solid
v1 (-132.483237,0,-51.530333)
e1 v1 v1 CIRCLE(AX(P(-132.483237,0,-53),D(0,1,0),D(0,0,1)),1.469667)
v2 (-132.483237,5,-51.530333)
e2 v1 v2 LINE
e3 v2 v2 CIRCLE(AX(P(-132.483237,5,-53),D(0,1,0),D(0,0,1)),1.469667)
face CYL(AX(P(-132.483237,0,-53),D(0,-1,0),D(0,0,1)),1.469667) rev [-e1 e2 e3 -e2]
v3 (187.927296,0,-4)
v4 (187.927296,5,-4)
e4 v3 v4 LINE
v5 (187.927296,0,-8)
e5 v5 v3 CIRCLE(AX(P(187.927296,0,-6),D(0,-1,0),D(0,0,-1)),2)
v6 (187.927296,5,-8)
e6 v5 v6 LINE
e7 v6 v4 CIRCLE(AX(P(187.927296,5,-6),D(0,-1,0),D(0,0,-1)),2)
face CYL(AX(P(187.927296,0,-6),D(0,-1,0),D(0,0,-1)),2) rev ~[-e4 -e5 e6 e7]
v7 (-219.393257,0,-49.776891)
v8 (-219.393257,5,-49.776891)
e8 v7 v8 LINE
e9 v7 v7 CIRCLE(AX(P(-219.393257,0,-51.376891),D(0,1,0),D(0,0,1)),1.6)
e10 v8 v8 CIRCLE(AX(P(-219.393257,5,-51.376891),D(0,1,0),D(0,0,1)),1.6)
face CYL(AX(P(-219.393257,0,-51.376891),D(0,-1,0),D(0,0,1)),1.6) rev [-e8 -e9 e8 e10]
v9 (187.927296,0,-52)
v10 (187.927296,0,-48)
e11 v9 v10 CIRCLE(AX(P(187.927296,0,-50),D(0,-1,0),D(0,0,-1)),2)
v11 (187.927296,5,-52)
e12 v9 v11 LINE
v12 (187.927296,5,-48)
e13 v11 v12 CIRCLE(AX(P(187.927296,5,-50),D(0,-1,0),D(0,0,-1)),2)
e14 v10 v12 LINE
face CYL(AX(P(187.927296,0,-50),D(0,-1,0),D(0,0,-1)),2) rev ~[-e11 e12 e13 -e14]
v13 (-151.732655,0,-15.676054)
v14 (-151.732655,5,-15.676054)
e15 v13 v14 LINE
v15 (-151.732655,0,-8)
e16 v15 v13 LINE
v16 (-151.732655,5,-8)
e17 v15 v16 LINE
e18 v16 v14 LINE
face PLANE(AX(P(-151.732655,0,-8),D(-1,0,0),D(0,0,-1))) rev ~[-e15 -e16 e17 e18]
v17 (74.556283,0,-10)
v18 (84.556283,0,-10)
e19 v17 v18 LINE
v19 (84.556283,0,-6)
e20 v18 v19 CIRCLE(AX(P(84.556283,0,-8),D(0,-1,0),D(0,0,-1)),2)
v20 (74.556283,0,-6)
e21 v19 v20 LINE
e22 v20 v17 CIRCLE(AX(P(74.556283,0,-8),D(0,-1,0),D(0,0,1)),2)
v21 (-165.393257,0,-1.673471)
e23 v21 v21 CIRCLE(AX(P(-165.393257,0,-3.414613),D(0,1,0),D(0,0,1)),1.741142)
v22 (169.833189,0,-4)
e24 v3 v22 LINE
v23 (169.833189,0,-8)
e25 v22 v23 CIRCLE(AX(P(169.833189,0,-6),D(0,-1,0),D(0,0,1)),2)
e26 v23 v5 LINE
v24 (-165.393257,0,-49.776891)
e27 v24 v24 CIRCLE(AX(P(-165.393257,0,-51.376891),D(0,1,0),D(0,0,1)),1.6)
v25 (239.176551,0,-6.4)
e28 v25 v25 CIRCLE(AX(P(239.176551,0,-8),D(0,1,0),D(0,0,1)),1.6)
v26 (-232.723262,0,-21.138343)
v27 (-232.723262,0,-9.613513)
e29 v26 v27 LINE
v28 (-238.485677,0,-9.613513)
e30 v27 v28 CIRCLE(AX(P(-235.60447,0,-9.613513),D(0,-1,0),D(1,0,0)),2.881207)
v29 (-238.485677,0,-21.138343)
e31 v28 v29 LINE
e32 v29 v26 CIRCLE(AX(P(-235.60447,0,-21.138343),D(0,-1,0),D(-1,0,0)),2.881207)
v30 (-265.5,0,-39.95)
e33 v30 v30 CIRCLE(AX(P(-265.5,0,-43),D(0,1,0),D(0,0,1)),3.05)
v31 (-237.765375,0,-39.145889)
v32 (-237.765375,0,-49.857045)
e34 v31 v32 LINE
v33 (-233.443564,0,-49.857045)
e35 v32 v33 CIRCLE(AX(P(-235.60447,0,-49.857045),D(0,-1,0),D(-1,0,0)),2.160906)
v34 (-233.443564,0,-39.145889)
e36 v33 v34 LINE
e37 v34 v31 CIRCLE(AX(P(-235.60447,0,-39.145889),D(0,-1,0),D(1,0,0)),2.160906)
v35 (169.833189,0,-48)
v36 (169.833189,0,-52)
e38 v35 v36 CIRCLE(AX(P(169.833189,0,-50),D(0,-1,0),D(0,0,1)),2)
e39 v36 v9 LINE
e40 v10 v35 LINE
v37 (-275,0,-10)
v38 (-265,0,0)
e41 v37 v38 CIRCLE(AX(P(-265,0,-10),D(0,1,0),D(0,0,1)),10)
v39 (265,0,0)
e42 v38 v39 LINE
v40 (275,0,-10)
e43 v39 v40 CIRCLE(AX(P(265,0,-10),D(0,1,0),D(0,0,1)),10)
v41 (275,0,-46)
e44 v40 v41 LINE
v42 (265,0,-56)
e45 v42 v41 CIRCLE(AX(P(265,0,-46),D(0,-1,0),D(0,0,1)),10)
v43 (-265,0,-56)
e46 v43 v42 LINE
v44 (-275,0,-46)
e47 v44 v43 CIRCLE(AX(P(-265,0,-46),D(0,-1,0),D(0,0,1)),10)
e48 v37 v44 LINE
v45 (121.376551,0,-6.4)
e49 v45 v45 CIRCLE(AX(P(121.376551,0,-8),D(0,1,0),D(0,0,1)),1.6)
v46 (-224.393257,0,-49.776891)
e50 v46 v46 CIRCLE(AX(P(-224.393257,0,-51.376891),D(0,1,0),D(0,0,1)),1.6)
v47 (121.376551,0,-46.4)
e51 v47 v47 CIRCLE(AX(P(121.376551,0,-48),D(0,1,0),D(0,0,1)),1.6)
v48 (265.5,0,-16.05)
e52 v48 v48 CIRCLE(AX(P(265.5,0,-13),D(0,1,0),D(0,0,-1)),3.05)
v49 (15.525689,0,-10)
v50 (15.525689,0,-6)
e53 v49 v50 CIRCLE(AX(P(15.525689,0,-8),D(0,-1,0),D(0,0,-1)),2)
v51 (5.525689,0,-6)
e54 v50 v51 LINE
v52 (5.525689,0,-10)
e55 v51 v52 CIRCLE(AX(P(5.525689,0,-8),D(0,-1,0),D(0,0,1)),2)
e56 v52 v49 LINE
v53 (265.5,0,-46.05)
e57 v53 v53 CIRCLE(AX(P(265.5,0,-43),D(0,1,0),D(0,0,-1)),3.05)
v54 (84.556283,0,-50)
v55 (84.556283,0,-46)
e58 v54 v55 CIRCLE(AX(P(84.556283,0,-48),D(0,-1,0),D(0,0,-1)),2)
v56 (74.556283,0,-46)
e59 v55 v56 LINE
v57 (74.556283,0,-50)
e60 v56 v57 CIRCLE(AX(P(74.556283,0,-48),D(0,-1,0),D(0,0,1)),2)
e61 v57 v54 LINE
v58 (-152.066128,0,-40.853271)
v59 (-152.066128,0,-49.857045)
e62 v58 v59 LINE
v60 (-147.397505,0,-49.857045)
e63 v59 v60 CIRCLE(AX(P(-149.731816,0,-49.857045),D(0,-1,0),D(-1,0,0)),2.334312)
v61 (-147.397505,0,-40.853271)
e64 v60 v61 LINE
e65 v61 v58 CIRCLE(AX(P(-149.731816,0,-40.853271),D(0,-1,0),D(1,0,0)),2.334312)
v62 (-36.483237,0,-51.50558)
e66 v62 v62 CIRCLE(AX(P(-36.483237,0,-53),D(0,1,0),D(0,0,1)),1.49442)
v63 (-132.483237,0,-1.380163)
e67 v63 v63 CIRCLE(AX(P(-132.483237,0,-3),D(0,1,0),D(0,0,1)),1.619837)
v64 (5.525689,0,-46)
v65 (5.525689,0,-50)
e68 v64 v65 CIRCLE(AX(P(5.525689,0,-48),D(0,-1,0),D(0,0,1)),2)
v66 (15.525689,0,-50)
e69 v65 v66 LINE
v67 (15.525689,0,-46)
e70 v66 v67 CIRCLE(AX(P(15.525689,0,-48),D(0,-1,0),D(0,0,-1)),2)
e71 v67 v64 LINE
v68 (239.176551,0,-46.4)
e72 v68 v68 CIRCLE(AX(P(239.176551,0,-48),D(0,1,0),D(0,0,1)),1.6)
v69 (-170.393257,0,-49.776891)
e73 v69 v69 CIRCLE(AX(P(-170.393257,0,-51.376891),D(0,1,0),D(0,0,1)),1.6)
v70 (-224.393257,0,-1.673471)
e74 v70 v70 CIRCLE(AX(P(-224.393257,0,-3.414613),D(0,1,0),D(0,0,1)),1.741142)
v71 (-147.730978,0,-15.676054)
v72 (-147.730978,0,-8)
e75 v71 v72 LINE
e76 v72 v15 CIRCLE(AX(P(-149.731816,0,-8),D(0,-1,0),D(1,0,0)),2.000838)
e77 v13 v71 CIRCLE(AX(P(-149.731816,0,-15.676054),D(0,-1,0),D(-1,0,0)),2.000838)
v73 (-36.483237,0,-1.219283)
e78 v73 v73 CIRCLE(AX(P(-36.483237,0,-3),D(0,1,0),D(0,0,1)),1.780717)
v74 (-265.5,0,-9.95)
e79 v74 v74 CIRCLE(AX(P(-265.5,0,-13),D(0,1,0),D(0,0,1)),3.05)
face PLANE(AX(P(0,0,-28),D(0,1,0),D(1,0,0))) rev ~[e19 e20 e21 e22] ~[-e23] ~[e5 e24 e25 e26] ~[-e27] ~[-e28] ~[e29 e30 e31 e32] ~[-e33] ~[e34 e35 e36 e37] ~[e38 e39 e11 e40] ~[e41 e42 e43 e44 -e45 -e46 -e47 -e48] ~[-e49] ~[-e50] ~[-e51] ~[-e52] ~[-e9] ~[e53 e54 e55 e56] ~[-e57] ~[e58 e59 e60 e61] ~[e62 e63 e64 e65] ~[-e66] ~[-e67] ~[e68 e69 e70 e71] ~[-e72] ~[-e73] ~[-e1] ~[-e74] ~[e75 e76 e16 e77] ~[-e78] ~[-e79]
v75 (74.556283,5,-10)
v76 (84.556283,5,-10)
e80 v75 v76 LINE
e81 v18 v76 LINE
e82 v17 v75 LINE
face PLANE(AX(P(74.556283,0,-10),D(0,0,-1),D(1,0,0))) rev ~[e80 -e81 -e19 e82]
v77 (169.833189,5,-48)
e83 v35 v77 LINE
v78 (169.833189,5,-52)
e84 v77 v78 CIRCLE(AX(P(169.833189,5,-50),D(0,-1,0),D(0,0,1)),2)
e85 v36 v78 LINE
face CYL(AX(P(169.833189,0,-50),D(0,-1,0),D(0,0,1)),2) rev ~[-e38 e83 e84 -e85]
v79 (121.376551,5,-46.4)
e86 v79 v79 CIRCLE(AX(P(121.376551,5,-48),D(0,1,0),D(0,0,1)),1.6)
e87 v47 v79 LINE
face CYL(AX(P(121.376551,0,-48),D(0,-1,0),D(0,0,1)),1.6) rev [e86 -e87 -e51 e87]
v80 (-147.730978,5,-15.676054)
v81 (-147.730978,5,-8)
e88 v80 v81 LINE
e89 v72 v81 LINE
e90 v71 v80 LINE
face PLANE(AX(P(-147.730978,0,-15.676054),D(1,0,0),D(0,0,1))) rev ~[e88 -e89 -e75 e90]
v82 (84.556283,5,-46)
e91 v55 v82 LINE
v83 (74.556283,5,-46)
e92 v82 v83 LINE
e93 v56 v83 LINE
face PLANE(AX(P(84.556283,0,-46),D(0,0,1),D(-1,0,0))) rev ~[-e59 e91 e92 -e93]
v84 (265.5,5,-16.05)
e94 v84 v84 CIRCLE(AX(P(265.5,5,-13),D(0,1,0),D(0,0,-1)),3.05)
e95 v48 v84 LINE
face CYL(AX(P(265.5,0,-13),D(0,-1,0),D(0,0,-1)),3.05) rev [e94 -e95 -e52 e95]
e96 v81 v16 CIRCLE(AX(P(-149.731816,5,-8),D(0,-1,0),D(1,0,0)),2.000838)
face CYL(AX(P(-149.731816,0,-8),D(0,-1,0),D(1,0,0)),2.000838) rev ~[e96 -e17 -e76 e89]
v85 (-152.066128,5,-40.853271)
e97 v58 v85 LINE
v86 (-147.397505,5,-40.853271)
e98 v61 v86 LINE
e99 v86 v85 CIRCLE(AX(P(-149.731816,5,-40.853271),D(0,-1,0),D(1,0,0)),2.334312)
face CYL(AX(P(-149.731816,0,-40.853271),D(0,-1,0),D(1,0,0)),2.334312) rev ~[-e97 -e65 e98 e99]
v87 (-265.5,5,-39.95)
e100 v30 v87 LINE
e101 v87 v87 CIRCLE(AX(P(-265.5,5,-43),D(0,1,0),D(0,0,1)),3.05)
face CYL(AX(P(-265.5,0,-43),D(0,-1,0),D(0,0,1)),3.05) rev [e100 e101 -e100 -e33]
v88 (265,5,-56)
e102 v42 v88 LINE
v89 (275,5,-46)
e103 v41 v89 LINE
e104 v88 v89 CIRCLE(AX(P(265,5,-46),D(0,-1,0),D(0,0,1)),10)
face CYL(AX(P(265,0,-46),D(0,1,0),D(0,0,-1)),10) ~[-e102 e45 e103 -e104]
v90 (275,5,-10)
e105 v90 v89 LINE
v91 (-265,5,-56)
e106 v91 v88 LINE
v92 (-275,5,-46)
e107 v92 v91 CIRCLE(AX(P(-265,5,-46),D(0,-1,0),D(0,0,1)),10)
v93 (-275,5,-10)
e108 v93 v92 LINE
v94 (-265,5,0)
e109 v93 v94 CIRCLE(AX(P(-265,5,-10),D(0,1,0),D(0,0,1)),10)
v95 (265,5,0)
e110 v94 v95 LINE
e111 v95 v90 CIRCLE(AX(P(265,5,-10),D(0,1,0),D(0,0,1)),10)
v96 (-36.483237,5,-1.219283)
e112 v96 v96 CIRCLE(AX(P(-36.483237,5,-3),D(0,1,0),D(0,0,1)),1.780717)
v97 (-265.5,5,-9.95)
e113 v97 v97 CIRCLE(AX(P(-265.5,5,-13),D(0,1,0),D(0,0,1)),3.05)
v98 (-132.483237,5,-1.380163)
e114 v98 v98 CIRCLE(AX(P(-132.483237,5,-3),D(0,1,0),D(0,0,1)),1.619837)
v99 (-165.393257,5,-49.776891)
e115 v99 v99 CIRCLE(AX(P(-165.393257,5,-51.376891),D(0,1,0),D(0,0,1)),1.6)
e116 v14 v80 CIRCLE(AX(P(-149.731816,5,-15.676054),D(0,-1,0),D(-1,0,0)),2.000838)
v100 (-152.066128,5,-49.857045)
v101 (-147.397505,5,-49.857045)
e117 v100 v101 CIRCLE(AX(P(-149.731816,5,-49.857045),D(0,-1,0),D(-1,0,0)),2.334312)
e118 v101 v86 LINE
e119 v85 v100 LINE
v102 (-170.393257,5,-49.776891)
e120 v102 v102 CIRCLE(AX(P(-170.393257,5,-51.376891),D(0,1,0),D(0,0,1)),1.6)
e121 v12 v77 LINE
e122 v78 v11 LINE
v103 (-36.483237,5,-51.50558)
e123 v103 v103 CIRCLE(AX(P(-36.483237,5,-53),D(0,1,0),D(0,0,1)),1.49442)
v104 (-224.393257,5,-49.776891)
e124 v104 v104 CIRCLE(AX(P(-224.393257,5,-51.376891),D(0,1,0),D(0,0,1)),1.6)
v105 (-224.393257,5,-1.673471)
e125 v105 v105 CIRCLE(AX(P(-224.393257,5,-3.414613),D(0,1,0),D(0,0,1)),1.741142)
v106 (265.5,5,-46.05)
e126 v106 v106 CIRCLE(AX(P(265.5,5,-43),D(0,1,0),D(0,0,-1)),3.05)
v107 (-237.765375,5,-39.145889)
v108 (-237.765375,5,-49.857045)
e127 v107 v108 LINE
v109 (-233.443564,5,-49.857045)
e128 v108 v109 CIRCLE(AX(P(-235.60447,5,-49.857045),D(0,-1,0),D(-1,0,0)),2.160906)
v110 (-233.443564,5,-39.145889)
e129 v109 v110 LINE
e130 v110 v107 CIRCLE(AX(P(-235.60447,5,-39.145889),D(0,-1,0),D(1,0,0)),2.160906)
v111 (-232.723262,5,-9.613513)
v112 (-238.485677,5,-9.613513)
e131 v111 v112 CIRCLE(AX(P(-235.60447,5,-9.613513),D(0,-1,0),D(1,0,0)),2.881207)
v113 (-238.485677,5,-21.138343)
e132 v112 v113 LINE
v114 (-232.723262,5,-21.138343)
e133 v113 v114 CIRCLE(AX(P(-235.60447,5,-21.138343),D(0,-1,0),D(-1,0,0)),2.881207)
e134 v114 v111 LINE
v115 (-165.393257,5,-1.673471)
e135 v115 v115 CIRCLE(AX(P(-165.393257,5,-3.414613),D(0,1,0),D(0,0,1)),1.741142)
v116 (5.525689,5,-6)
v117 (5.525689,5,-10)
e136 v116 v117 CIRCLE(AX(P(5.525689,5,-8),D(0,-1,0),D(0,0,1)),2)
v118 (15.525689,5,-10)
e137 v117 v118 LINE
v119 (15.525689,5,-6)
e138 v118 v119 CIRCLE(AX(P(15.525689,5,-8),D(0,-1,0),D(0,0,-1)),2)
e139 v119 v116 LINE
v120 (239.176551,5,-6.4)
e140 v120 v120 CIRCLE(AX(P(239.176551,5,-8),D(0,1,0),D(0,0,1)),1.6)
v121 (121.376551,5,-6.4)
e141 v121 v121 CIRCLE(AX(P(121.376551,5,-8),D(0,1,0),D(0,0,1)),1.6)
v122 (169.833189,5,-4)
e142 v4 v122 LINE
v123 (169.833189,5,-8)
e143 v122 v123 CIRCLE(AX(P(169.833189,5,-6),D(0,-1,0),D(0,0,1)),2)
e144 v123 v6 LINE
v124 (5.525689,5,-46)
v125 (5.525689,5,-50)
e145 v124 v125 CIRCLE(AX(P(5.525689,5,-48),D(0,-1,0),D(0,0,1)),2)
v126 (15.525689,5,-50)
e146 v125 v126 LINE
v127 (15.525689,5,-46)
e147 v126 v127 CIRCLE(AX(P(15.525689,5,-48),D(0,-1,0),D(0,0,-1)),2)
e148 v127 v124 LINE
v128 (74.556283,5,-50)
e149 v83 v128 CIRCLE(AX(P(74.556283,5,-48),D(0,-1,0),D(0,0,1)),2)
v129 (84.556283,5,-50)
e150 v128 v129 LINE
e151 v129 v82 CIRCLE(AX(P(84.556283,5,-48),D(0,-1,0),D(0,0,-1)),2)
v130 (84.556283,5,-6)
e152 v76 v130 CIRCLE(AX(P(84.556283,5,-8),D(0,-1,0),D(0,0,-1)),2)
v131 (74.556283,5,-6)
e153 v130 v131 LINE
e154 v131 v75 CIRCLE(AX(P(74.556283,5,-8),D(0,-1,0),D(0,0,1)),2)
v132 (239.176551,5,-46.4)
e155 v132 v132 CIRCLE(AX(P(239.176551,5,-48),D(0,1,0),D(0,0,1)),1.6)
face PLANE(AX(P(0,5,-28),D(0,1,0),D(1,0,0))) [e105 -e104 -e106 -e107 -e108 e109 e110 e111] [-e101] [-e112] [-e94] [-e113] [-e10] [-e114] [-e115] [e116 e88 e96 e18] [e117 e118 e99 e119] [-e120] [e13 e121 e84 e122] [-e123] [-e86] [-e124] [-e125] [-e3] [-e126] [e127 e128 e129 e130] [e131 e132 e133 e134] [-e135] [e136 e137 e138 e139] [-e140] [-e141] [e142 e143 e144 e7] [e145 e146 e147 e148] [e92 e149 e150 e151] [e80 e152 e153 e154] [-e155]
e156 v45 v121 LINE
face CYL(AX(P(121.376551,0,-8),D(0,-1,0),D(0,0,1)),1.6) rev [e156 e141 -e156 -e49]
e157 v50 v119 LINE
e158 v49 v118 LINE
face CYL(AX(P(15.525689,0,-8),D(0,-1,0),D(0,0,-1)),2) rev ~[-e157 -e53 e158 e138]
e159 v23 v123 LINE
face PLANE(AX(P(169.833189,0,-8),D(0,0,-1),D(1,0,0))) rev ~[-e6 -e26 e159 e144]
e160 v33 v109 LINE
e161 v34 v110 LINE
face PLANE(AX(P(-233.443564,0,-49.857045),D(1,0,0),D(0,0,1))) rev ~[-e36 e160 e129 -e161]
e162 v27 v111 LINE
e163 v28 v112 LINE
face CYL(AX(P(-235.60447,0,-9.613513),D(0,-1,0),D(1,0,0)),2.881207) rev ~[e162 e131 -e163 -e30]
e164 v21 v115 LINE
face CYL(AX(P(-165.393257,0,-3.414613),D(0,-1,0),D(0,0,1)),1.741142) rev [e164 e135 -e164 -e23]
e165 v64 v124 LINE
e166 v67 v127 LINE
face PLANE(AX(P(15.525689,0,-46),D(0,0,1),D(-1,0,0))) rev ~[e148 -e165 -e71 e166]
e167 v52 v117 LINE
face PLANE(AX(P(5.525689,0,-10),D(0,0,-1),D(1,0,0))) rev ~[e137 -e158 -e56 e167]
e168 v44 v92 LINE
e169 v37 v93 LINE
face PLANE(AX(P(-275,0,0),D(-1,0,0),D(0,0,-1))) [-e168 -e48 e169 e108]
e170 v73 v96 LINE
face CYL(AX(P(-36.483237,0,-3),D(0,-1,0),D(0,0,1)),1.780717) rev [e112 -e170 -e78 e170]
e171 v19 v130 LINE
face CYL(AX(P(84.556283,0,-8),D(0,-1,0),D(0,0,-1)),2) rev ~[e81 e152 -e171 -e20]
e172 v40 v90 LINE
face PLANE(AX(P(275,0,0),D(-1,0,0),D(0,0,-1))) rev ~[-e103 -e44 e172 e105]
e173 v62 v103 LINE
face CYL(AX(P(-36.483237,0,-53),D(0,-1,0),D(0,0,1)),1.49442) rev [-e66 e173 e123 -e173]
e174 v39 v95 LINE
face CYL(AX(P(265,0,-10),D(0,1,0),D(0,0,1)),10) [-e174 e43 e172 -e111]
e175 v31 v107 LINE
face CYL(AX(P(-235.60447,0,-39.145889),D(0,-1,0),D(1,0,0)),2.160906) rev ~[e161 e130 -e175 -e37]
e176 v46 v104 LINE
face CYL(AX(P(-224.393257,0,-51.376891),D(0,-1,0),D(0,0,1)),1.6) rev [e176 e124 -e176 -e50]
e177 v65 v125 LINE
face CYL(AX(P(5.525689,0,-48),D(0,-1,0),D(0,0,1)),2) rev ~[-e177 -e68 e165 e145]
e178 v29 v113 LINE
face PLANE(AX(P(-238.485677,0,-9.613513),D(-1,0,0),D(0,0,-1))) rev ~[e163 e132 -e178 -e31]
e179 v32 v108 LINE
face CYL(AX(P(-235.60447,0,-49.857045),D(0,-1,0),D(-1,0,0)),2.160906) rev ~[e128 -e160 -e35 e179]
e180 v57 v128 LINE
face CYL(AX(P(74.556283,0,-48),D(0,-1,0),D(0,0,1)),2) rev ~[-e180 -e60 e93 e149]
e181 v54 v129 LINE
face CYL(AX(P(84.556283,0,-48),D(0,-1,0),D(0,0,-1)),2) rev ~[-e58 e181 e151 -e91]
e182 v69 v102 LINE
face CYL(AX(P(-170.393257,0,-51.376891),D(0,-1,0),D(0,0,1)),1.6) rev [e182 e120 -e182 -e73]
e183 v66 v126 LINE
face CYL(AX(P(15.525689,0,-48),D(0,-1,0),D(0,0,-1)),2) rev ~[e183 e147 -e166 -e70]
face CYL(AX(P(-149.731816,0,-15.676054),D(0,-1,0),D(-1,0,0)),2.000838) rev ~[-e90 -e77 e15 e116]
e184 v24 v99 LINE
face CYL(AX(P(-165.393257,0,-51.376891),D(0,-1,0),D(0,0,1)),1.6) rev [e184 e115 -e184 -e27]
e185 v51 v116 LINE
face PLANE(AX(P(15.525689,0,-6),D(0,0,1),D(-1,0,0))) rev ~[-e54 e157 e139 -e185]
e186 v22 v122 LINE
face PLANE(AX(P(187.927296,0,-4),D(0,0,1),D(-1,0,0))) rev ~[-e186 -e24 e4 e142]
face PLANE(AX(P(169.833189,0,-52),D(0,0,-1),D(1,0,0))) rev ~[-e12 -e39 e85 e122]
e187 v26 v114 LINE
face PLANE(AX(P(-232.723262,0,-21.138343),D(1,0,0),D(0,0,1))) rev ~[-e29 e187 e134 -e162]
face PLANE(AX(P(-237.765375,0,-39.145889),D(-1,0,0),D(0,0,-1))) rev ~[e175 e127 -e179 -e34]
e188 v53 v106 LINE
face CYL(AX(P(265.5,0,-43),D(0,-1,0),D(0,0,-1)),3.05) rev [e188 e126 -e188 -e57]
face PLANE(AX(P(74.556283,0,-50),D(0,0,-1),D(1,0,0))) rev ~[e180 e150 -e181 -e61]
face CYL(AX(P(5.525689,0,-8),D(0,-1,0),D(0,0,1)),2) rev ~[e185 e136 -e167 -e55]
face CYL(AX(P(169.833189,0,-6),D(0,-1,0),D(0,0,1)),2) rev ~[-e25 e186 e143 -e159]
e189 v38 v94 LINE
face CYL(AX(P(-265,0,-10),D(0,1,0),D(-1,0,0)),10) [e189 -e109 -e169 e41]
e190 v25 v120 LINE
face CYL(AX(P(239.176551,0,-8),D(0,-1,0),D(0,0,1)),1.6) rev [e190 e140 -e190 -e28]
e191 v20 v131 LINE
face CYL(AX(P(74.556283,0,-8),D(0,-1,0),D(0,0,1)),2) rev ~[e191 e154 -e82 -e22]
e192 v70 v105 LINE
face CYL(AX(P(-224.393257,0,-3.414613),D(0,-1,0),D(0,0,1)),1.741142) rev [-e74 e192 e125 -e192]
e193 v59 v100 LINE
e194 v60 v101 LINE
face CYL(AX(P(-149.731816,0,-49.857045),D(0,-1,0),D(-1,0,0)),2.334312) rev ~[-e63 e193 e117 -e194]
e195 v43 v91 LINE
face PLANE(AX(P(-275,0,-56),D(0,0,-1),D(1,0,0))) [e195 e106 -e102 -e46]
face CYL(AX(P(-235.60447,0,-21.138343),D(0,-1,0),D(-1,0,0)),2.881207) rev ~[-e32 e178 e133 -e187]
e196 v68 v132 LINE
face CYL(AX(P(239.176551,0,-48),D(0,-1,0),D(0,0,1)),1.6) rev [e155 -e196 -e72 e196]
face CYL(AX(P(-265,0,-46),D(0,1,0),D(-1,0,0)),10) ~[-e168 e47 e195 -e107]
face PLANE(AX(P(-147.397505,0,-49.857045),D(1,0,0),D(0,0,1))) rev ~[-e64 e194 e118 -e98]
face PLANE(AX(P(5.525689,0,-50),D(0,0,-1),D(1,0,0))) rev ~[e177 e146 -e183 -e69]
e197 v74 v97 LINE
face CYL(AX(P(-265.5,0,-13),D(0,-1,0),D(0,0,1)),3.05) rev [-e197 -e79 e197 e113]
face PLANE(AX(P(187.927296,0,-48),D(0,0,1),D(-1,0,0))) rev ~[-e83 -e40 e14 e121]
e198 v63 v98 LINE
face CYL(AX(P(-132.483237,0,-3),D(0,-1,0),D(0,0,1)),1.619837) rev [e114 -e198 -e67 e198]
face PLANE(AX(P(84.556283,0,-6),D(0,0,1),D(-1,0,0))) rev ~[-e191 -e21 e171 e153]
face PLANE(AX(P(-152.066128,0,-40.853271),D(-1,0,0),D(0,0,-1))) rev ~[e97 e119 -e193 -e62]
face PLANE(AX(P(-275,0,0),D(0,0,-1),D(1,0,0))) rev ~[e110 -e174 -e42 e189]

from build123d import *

# Parameters (mm, degrees)
SKETCH_1_W      = 550
SKETCH_1_H      = 56
SKETCH_1_R      = 3.05
SKETCH_1_R_2    = 1.6
SKETCH_1_R_3    = 1.741142055
SKETCH_1_R_4    = 1.469666532
SKETCH_1_R_5    = 1.619836661
SKETCH_1_R_6    = 1.494419625
SKETCH_1_R_7    = 1.78071741
EXTRUDE_1_DEPTH = 5
FILLET_1_R      = 10


with BuildPart() as part:
    # 草图1 → 凸台-拉伸1 (new body)
    with BuildSketch(Plane(origin=(0, 0, 0), x_dir=(1, 0, 0), z_dir=(0, 1, 0))):
        with Locations((0, 28)):
            Rectangle(SKETCH_1_W, SKETCH_1_H)
        with Locations(Location((-265.5, 43, 0), (0, 0, 270))):
            Circle(SKETCH_1_R, mode=Mode.SUBTRACT)
        with Locations(Location((-265.5, 13, 0), (0, 0, 270))):
            Circle(SKETCH_1_R, mode=Mode.SUBTRACT)
        with Locations(Location((265.5, 13, 0), (0, 0, 90))):
            Circle(SKETCH_1_R, mode=Mode.SUBTRACT)
        with Locations(Location((265.5, 43, 0), (0, 0, 90))):
            Circle(SKETCH_1_R, mode=Mode.SUBTRACT)
        with Locations(Location((239.176550925, 48, 0), (0, 0, 270))):
            Circle(SKETCH_1_R_2, mode=Mode.SUBTRACT)
        with Locations(Location((239.176550925, 8, 0), (0, 0, 270))):
            Circle(SKETCH_1_R_2, mode=Mode.SUBTRACT)
        with Locations(Location((121.376550925, 48, 0), (0, 0, 270))):
            Circle(SKETCH_1_R_2, mode=Mode.SUBTRACT)
        with Locations(Location((121.376550925, 8, 0), (0, 0, 270))):
            Circle(SKETCH_1_R_2, mode=Mode.SUBTRACT)
        with Locations(Location((-170.393257171, 51.376890861, 0), (0, 0, 270))):
            Circle(SKETCH_1_R_2, mode=Mode.SUBTRACT)
        with Locations(Location((-219.393257171, 51.376890861, 0), (0, 0, 270))):
            Circle(SKETCH_1_R_2, mode=Mode.SUBTRACT)
        with Locations(Location((-224.393257171, 51.376890861, 0), (0, 0, 270))):
            Circle(SKETCH_1_R_2, mode=Mode.SUBTRACT)
        with Locations(Location((-224.393257171, 3.414613144, 0), (0, 0, 270))):
            Circle(SKETCH_1_R_3, mode=Mode.SUBTRACT)
        with Locations(Location((-165.393257171, 51.376890861, 0), (0, 0, 270))):
            Circle(SKETCH_1_R_2, mode=Mode.SUBTRACT)
        with Locations(Location((-165.393257171, 3.414613144, 0), (0, 0, 270))):
            Circle(SKETCH_1_R_3, mode=Mode.SUBTRACT)
        with Locations(Location((-132.483237063, 53, 0), (0, 0, 270))):
            Circle(SKETCH_1_R_4, mode=Mode.SUBTRACT)
        with Locations(Location((-132.483237063, 3, 0), (0, 0, 270))):
            Circle(SKETCH_1_R_5, mode=Mode.SUBTRACT)
        with Locations(Location((-36.483237063, 53, 0), (0, 0, 270))):
            Circle(SKETCH_1_R_6, mode=Mode.SUBTRACT)
        with Locations(Location((-36.483237063, 3, 0), (0, 0, 270))):
            Circle(SKETCH_1_R_7, mode=Mode.SUBTRACT)
        with BuildLine():
            Line((-147.397504582, 49.857044682), (-147.397504582, 40.853271456))
            ThreePointArc((-147.397504582, 40.853271456), (-149.731816159, 38.518959879), (-152.066127736, 40.853271456))
            Line((-152.066127736, 40.853271456), (-152.066127736, 49.857044682))
            ThreePointArc((-152.066127736, 49.857044682), (-149.731816159, 52.191356259), (-147.397504582, 49.857044682))
        make_face(mode=Mode.SUBTRACT)
        with BuildLine():
            Line((-147.730977664, 15.67605373), (-147.730977664, 8))
            ThreePointArc((-147.730977664, 8), (-149.731816159, 5.999161505), (-151.732654654, 8))
            Line((-151.732654654, 8), (-151.732654654, 15.67605373))
            ThreePointArc((-151.732654654, 15.67605373), (-149.731816159, 17.676892225), (-147.730977664, 15.67605373))
        make_face(mode=Mode.SUBTRACT)
        with BuildLine():
            Line((-233.443564049, 49.857044682), (-233.443564049, 39.145889274))
            ThreePointArc((-233.443564049, 39.145889274), (-235.604469624, 36.984983699), (-237.765375198, 39.145889274))
            Line((-237.765375198, 39.145889274), (-237.765375198, 49.857044682))
            ThreePointArc((-237.765375198, 49.857044682), (-235.604469624, 52.017950257), (-233.443564049, 49.857044682))
        make_face(mode=Mode.SUBTRACT)
        with BuildLine():
            Line((-232.723262191, 21.138342821), (-232.723262191, 9.613513091))
            ThreePointArc((-232.723262191, 9.613513091), (-235.604469624, 6.732305658), (-238.485677056, 9.613513091))
            Line((-238.485677056, 9.613513091), (-238.485677056, 21.138342821))
            ThreePointArc((-238.485677056, 21.138342821), (-235.604469624, 24.019550253), (-232.723262191, 21.138342821))
        make_face(mode=Mode.SUBTRACT)
        with BuildLine():
            Line((15.525688633, 46), (5.525688633, 46))
            ThreePointArc((5.525688633, 46), (3.525688633, 48), (5.525688633, 50))
            Line((5.525688633, 50), (15.525688633, 50))
            ThreePointArc((15.525688633, 50), (17.525688633, 48), (15.525688633, 46))
        make_face(mode=Mode.SUBTRACT)
        with BuildLine():
            Line((84.556283314, 46), (74.556283314, 46))
            ThreePointArc((74.556283314, 46), (72.556283314, 48), (74.556283314, 50))
            Line((74.556283314, 50), (84.556283314, 50))
            ThreePointArc((84.556283314, 50), (86.556283314, 48), (84.556283314, 46))
        make_face(mode=Mode.SUBTRACT)
        with BuildLine():
            Line((15.525688633, 6), (5.525688633, 6))
            ThreePointArc((5.525688633, 6), (3.525688633, 8), (5.525688633, 10))
            Line((5.525688633, 10), (15.525688633, 10))
            ThreePointArc((15.525688633, 10), (17.525688633, 8), (15.525688633, 6))
        make_face(mode=Mode.SUBTRACT)
        with BuildLine():
            Line((84.556283314, 6), (74.556283314, 6))
            ThreePointArc((74.556283314, 6), (72.556283314, 8), (74.556283314, 10))
            Line((74.556283314, 10), (84.556283314, 10))
            ThreePointArc((84.556283314, 10), (86.556283314, 8), (84.556283314, 6))
        make_face(mode=Mode.SUBTRACT)
        with BuildLine():
            Line((169.833189375, 52), (187.927295943, 52))
            ThreePointArc((187.927295943, 52), (189.927295943, 50), (187.927295943, 48))
            Line((187.927295943, 48), (169.833189375, 48))
            ThreePointArc((169.833189375, 48), (167.833189375, 50), (169.833189375, 52))
        make_face(mode=Mode.SUBTRACT)
        with BuildLine():
            Line((169.833189375, 8), (187.927295943, 8))
            ThreePointArc((187.927295943, 8), (189.927295943, 6), (187.927295943, 4))
            Line((187.927295943, 4), (169.833189375, 4))
            ThreePointArc((169.833189375, 4), (167.833189375, 6), (169.833189375, 8))
        make_face(mode=Mode.SUBTRACT)
    extrude(amount=EXTRUDE_1_DEPTH)

    # 圆角1
    fillet_1_edges = [part.edges().sort_by_distance(p)[0] for p in [
        (-275, 2.5, -56),
        (275, 2.5, -56),
        (275, 2.5, 0),
        (-275, 2.5, 0),
    ]]
    fillet(fillet_1_edges, radius=FILLET_1_R)


solid = part.part
